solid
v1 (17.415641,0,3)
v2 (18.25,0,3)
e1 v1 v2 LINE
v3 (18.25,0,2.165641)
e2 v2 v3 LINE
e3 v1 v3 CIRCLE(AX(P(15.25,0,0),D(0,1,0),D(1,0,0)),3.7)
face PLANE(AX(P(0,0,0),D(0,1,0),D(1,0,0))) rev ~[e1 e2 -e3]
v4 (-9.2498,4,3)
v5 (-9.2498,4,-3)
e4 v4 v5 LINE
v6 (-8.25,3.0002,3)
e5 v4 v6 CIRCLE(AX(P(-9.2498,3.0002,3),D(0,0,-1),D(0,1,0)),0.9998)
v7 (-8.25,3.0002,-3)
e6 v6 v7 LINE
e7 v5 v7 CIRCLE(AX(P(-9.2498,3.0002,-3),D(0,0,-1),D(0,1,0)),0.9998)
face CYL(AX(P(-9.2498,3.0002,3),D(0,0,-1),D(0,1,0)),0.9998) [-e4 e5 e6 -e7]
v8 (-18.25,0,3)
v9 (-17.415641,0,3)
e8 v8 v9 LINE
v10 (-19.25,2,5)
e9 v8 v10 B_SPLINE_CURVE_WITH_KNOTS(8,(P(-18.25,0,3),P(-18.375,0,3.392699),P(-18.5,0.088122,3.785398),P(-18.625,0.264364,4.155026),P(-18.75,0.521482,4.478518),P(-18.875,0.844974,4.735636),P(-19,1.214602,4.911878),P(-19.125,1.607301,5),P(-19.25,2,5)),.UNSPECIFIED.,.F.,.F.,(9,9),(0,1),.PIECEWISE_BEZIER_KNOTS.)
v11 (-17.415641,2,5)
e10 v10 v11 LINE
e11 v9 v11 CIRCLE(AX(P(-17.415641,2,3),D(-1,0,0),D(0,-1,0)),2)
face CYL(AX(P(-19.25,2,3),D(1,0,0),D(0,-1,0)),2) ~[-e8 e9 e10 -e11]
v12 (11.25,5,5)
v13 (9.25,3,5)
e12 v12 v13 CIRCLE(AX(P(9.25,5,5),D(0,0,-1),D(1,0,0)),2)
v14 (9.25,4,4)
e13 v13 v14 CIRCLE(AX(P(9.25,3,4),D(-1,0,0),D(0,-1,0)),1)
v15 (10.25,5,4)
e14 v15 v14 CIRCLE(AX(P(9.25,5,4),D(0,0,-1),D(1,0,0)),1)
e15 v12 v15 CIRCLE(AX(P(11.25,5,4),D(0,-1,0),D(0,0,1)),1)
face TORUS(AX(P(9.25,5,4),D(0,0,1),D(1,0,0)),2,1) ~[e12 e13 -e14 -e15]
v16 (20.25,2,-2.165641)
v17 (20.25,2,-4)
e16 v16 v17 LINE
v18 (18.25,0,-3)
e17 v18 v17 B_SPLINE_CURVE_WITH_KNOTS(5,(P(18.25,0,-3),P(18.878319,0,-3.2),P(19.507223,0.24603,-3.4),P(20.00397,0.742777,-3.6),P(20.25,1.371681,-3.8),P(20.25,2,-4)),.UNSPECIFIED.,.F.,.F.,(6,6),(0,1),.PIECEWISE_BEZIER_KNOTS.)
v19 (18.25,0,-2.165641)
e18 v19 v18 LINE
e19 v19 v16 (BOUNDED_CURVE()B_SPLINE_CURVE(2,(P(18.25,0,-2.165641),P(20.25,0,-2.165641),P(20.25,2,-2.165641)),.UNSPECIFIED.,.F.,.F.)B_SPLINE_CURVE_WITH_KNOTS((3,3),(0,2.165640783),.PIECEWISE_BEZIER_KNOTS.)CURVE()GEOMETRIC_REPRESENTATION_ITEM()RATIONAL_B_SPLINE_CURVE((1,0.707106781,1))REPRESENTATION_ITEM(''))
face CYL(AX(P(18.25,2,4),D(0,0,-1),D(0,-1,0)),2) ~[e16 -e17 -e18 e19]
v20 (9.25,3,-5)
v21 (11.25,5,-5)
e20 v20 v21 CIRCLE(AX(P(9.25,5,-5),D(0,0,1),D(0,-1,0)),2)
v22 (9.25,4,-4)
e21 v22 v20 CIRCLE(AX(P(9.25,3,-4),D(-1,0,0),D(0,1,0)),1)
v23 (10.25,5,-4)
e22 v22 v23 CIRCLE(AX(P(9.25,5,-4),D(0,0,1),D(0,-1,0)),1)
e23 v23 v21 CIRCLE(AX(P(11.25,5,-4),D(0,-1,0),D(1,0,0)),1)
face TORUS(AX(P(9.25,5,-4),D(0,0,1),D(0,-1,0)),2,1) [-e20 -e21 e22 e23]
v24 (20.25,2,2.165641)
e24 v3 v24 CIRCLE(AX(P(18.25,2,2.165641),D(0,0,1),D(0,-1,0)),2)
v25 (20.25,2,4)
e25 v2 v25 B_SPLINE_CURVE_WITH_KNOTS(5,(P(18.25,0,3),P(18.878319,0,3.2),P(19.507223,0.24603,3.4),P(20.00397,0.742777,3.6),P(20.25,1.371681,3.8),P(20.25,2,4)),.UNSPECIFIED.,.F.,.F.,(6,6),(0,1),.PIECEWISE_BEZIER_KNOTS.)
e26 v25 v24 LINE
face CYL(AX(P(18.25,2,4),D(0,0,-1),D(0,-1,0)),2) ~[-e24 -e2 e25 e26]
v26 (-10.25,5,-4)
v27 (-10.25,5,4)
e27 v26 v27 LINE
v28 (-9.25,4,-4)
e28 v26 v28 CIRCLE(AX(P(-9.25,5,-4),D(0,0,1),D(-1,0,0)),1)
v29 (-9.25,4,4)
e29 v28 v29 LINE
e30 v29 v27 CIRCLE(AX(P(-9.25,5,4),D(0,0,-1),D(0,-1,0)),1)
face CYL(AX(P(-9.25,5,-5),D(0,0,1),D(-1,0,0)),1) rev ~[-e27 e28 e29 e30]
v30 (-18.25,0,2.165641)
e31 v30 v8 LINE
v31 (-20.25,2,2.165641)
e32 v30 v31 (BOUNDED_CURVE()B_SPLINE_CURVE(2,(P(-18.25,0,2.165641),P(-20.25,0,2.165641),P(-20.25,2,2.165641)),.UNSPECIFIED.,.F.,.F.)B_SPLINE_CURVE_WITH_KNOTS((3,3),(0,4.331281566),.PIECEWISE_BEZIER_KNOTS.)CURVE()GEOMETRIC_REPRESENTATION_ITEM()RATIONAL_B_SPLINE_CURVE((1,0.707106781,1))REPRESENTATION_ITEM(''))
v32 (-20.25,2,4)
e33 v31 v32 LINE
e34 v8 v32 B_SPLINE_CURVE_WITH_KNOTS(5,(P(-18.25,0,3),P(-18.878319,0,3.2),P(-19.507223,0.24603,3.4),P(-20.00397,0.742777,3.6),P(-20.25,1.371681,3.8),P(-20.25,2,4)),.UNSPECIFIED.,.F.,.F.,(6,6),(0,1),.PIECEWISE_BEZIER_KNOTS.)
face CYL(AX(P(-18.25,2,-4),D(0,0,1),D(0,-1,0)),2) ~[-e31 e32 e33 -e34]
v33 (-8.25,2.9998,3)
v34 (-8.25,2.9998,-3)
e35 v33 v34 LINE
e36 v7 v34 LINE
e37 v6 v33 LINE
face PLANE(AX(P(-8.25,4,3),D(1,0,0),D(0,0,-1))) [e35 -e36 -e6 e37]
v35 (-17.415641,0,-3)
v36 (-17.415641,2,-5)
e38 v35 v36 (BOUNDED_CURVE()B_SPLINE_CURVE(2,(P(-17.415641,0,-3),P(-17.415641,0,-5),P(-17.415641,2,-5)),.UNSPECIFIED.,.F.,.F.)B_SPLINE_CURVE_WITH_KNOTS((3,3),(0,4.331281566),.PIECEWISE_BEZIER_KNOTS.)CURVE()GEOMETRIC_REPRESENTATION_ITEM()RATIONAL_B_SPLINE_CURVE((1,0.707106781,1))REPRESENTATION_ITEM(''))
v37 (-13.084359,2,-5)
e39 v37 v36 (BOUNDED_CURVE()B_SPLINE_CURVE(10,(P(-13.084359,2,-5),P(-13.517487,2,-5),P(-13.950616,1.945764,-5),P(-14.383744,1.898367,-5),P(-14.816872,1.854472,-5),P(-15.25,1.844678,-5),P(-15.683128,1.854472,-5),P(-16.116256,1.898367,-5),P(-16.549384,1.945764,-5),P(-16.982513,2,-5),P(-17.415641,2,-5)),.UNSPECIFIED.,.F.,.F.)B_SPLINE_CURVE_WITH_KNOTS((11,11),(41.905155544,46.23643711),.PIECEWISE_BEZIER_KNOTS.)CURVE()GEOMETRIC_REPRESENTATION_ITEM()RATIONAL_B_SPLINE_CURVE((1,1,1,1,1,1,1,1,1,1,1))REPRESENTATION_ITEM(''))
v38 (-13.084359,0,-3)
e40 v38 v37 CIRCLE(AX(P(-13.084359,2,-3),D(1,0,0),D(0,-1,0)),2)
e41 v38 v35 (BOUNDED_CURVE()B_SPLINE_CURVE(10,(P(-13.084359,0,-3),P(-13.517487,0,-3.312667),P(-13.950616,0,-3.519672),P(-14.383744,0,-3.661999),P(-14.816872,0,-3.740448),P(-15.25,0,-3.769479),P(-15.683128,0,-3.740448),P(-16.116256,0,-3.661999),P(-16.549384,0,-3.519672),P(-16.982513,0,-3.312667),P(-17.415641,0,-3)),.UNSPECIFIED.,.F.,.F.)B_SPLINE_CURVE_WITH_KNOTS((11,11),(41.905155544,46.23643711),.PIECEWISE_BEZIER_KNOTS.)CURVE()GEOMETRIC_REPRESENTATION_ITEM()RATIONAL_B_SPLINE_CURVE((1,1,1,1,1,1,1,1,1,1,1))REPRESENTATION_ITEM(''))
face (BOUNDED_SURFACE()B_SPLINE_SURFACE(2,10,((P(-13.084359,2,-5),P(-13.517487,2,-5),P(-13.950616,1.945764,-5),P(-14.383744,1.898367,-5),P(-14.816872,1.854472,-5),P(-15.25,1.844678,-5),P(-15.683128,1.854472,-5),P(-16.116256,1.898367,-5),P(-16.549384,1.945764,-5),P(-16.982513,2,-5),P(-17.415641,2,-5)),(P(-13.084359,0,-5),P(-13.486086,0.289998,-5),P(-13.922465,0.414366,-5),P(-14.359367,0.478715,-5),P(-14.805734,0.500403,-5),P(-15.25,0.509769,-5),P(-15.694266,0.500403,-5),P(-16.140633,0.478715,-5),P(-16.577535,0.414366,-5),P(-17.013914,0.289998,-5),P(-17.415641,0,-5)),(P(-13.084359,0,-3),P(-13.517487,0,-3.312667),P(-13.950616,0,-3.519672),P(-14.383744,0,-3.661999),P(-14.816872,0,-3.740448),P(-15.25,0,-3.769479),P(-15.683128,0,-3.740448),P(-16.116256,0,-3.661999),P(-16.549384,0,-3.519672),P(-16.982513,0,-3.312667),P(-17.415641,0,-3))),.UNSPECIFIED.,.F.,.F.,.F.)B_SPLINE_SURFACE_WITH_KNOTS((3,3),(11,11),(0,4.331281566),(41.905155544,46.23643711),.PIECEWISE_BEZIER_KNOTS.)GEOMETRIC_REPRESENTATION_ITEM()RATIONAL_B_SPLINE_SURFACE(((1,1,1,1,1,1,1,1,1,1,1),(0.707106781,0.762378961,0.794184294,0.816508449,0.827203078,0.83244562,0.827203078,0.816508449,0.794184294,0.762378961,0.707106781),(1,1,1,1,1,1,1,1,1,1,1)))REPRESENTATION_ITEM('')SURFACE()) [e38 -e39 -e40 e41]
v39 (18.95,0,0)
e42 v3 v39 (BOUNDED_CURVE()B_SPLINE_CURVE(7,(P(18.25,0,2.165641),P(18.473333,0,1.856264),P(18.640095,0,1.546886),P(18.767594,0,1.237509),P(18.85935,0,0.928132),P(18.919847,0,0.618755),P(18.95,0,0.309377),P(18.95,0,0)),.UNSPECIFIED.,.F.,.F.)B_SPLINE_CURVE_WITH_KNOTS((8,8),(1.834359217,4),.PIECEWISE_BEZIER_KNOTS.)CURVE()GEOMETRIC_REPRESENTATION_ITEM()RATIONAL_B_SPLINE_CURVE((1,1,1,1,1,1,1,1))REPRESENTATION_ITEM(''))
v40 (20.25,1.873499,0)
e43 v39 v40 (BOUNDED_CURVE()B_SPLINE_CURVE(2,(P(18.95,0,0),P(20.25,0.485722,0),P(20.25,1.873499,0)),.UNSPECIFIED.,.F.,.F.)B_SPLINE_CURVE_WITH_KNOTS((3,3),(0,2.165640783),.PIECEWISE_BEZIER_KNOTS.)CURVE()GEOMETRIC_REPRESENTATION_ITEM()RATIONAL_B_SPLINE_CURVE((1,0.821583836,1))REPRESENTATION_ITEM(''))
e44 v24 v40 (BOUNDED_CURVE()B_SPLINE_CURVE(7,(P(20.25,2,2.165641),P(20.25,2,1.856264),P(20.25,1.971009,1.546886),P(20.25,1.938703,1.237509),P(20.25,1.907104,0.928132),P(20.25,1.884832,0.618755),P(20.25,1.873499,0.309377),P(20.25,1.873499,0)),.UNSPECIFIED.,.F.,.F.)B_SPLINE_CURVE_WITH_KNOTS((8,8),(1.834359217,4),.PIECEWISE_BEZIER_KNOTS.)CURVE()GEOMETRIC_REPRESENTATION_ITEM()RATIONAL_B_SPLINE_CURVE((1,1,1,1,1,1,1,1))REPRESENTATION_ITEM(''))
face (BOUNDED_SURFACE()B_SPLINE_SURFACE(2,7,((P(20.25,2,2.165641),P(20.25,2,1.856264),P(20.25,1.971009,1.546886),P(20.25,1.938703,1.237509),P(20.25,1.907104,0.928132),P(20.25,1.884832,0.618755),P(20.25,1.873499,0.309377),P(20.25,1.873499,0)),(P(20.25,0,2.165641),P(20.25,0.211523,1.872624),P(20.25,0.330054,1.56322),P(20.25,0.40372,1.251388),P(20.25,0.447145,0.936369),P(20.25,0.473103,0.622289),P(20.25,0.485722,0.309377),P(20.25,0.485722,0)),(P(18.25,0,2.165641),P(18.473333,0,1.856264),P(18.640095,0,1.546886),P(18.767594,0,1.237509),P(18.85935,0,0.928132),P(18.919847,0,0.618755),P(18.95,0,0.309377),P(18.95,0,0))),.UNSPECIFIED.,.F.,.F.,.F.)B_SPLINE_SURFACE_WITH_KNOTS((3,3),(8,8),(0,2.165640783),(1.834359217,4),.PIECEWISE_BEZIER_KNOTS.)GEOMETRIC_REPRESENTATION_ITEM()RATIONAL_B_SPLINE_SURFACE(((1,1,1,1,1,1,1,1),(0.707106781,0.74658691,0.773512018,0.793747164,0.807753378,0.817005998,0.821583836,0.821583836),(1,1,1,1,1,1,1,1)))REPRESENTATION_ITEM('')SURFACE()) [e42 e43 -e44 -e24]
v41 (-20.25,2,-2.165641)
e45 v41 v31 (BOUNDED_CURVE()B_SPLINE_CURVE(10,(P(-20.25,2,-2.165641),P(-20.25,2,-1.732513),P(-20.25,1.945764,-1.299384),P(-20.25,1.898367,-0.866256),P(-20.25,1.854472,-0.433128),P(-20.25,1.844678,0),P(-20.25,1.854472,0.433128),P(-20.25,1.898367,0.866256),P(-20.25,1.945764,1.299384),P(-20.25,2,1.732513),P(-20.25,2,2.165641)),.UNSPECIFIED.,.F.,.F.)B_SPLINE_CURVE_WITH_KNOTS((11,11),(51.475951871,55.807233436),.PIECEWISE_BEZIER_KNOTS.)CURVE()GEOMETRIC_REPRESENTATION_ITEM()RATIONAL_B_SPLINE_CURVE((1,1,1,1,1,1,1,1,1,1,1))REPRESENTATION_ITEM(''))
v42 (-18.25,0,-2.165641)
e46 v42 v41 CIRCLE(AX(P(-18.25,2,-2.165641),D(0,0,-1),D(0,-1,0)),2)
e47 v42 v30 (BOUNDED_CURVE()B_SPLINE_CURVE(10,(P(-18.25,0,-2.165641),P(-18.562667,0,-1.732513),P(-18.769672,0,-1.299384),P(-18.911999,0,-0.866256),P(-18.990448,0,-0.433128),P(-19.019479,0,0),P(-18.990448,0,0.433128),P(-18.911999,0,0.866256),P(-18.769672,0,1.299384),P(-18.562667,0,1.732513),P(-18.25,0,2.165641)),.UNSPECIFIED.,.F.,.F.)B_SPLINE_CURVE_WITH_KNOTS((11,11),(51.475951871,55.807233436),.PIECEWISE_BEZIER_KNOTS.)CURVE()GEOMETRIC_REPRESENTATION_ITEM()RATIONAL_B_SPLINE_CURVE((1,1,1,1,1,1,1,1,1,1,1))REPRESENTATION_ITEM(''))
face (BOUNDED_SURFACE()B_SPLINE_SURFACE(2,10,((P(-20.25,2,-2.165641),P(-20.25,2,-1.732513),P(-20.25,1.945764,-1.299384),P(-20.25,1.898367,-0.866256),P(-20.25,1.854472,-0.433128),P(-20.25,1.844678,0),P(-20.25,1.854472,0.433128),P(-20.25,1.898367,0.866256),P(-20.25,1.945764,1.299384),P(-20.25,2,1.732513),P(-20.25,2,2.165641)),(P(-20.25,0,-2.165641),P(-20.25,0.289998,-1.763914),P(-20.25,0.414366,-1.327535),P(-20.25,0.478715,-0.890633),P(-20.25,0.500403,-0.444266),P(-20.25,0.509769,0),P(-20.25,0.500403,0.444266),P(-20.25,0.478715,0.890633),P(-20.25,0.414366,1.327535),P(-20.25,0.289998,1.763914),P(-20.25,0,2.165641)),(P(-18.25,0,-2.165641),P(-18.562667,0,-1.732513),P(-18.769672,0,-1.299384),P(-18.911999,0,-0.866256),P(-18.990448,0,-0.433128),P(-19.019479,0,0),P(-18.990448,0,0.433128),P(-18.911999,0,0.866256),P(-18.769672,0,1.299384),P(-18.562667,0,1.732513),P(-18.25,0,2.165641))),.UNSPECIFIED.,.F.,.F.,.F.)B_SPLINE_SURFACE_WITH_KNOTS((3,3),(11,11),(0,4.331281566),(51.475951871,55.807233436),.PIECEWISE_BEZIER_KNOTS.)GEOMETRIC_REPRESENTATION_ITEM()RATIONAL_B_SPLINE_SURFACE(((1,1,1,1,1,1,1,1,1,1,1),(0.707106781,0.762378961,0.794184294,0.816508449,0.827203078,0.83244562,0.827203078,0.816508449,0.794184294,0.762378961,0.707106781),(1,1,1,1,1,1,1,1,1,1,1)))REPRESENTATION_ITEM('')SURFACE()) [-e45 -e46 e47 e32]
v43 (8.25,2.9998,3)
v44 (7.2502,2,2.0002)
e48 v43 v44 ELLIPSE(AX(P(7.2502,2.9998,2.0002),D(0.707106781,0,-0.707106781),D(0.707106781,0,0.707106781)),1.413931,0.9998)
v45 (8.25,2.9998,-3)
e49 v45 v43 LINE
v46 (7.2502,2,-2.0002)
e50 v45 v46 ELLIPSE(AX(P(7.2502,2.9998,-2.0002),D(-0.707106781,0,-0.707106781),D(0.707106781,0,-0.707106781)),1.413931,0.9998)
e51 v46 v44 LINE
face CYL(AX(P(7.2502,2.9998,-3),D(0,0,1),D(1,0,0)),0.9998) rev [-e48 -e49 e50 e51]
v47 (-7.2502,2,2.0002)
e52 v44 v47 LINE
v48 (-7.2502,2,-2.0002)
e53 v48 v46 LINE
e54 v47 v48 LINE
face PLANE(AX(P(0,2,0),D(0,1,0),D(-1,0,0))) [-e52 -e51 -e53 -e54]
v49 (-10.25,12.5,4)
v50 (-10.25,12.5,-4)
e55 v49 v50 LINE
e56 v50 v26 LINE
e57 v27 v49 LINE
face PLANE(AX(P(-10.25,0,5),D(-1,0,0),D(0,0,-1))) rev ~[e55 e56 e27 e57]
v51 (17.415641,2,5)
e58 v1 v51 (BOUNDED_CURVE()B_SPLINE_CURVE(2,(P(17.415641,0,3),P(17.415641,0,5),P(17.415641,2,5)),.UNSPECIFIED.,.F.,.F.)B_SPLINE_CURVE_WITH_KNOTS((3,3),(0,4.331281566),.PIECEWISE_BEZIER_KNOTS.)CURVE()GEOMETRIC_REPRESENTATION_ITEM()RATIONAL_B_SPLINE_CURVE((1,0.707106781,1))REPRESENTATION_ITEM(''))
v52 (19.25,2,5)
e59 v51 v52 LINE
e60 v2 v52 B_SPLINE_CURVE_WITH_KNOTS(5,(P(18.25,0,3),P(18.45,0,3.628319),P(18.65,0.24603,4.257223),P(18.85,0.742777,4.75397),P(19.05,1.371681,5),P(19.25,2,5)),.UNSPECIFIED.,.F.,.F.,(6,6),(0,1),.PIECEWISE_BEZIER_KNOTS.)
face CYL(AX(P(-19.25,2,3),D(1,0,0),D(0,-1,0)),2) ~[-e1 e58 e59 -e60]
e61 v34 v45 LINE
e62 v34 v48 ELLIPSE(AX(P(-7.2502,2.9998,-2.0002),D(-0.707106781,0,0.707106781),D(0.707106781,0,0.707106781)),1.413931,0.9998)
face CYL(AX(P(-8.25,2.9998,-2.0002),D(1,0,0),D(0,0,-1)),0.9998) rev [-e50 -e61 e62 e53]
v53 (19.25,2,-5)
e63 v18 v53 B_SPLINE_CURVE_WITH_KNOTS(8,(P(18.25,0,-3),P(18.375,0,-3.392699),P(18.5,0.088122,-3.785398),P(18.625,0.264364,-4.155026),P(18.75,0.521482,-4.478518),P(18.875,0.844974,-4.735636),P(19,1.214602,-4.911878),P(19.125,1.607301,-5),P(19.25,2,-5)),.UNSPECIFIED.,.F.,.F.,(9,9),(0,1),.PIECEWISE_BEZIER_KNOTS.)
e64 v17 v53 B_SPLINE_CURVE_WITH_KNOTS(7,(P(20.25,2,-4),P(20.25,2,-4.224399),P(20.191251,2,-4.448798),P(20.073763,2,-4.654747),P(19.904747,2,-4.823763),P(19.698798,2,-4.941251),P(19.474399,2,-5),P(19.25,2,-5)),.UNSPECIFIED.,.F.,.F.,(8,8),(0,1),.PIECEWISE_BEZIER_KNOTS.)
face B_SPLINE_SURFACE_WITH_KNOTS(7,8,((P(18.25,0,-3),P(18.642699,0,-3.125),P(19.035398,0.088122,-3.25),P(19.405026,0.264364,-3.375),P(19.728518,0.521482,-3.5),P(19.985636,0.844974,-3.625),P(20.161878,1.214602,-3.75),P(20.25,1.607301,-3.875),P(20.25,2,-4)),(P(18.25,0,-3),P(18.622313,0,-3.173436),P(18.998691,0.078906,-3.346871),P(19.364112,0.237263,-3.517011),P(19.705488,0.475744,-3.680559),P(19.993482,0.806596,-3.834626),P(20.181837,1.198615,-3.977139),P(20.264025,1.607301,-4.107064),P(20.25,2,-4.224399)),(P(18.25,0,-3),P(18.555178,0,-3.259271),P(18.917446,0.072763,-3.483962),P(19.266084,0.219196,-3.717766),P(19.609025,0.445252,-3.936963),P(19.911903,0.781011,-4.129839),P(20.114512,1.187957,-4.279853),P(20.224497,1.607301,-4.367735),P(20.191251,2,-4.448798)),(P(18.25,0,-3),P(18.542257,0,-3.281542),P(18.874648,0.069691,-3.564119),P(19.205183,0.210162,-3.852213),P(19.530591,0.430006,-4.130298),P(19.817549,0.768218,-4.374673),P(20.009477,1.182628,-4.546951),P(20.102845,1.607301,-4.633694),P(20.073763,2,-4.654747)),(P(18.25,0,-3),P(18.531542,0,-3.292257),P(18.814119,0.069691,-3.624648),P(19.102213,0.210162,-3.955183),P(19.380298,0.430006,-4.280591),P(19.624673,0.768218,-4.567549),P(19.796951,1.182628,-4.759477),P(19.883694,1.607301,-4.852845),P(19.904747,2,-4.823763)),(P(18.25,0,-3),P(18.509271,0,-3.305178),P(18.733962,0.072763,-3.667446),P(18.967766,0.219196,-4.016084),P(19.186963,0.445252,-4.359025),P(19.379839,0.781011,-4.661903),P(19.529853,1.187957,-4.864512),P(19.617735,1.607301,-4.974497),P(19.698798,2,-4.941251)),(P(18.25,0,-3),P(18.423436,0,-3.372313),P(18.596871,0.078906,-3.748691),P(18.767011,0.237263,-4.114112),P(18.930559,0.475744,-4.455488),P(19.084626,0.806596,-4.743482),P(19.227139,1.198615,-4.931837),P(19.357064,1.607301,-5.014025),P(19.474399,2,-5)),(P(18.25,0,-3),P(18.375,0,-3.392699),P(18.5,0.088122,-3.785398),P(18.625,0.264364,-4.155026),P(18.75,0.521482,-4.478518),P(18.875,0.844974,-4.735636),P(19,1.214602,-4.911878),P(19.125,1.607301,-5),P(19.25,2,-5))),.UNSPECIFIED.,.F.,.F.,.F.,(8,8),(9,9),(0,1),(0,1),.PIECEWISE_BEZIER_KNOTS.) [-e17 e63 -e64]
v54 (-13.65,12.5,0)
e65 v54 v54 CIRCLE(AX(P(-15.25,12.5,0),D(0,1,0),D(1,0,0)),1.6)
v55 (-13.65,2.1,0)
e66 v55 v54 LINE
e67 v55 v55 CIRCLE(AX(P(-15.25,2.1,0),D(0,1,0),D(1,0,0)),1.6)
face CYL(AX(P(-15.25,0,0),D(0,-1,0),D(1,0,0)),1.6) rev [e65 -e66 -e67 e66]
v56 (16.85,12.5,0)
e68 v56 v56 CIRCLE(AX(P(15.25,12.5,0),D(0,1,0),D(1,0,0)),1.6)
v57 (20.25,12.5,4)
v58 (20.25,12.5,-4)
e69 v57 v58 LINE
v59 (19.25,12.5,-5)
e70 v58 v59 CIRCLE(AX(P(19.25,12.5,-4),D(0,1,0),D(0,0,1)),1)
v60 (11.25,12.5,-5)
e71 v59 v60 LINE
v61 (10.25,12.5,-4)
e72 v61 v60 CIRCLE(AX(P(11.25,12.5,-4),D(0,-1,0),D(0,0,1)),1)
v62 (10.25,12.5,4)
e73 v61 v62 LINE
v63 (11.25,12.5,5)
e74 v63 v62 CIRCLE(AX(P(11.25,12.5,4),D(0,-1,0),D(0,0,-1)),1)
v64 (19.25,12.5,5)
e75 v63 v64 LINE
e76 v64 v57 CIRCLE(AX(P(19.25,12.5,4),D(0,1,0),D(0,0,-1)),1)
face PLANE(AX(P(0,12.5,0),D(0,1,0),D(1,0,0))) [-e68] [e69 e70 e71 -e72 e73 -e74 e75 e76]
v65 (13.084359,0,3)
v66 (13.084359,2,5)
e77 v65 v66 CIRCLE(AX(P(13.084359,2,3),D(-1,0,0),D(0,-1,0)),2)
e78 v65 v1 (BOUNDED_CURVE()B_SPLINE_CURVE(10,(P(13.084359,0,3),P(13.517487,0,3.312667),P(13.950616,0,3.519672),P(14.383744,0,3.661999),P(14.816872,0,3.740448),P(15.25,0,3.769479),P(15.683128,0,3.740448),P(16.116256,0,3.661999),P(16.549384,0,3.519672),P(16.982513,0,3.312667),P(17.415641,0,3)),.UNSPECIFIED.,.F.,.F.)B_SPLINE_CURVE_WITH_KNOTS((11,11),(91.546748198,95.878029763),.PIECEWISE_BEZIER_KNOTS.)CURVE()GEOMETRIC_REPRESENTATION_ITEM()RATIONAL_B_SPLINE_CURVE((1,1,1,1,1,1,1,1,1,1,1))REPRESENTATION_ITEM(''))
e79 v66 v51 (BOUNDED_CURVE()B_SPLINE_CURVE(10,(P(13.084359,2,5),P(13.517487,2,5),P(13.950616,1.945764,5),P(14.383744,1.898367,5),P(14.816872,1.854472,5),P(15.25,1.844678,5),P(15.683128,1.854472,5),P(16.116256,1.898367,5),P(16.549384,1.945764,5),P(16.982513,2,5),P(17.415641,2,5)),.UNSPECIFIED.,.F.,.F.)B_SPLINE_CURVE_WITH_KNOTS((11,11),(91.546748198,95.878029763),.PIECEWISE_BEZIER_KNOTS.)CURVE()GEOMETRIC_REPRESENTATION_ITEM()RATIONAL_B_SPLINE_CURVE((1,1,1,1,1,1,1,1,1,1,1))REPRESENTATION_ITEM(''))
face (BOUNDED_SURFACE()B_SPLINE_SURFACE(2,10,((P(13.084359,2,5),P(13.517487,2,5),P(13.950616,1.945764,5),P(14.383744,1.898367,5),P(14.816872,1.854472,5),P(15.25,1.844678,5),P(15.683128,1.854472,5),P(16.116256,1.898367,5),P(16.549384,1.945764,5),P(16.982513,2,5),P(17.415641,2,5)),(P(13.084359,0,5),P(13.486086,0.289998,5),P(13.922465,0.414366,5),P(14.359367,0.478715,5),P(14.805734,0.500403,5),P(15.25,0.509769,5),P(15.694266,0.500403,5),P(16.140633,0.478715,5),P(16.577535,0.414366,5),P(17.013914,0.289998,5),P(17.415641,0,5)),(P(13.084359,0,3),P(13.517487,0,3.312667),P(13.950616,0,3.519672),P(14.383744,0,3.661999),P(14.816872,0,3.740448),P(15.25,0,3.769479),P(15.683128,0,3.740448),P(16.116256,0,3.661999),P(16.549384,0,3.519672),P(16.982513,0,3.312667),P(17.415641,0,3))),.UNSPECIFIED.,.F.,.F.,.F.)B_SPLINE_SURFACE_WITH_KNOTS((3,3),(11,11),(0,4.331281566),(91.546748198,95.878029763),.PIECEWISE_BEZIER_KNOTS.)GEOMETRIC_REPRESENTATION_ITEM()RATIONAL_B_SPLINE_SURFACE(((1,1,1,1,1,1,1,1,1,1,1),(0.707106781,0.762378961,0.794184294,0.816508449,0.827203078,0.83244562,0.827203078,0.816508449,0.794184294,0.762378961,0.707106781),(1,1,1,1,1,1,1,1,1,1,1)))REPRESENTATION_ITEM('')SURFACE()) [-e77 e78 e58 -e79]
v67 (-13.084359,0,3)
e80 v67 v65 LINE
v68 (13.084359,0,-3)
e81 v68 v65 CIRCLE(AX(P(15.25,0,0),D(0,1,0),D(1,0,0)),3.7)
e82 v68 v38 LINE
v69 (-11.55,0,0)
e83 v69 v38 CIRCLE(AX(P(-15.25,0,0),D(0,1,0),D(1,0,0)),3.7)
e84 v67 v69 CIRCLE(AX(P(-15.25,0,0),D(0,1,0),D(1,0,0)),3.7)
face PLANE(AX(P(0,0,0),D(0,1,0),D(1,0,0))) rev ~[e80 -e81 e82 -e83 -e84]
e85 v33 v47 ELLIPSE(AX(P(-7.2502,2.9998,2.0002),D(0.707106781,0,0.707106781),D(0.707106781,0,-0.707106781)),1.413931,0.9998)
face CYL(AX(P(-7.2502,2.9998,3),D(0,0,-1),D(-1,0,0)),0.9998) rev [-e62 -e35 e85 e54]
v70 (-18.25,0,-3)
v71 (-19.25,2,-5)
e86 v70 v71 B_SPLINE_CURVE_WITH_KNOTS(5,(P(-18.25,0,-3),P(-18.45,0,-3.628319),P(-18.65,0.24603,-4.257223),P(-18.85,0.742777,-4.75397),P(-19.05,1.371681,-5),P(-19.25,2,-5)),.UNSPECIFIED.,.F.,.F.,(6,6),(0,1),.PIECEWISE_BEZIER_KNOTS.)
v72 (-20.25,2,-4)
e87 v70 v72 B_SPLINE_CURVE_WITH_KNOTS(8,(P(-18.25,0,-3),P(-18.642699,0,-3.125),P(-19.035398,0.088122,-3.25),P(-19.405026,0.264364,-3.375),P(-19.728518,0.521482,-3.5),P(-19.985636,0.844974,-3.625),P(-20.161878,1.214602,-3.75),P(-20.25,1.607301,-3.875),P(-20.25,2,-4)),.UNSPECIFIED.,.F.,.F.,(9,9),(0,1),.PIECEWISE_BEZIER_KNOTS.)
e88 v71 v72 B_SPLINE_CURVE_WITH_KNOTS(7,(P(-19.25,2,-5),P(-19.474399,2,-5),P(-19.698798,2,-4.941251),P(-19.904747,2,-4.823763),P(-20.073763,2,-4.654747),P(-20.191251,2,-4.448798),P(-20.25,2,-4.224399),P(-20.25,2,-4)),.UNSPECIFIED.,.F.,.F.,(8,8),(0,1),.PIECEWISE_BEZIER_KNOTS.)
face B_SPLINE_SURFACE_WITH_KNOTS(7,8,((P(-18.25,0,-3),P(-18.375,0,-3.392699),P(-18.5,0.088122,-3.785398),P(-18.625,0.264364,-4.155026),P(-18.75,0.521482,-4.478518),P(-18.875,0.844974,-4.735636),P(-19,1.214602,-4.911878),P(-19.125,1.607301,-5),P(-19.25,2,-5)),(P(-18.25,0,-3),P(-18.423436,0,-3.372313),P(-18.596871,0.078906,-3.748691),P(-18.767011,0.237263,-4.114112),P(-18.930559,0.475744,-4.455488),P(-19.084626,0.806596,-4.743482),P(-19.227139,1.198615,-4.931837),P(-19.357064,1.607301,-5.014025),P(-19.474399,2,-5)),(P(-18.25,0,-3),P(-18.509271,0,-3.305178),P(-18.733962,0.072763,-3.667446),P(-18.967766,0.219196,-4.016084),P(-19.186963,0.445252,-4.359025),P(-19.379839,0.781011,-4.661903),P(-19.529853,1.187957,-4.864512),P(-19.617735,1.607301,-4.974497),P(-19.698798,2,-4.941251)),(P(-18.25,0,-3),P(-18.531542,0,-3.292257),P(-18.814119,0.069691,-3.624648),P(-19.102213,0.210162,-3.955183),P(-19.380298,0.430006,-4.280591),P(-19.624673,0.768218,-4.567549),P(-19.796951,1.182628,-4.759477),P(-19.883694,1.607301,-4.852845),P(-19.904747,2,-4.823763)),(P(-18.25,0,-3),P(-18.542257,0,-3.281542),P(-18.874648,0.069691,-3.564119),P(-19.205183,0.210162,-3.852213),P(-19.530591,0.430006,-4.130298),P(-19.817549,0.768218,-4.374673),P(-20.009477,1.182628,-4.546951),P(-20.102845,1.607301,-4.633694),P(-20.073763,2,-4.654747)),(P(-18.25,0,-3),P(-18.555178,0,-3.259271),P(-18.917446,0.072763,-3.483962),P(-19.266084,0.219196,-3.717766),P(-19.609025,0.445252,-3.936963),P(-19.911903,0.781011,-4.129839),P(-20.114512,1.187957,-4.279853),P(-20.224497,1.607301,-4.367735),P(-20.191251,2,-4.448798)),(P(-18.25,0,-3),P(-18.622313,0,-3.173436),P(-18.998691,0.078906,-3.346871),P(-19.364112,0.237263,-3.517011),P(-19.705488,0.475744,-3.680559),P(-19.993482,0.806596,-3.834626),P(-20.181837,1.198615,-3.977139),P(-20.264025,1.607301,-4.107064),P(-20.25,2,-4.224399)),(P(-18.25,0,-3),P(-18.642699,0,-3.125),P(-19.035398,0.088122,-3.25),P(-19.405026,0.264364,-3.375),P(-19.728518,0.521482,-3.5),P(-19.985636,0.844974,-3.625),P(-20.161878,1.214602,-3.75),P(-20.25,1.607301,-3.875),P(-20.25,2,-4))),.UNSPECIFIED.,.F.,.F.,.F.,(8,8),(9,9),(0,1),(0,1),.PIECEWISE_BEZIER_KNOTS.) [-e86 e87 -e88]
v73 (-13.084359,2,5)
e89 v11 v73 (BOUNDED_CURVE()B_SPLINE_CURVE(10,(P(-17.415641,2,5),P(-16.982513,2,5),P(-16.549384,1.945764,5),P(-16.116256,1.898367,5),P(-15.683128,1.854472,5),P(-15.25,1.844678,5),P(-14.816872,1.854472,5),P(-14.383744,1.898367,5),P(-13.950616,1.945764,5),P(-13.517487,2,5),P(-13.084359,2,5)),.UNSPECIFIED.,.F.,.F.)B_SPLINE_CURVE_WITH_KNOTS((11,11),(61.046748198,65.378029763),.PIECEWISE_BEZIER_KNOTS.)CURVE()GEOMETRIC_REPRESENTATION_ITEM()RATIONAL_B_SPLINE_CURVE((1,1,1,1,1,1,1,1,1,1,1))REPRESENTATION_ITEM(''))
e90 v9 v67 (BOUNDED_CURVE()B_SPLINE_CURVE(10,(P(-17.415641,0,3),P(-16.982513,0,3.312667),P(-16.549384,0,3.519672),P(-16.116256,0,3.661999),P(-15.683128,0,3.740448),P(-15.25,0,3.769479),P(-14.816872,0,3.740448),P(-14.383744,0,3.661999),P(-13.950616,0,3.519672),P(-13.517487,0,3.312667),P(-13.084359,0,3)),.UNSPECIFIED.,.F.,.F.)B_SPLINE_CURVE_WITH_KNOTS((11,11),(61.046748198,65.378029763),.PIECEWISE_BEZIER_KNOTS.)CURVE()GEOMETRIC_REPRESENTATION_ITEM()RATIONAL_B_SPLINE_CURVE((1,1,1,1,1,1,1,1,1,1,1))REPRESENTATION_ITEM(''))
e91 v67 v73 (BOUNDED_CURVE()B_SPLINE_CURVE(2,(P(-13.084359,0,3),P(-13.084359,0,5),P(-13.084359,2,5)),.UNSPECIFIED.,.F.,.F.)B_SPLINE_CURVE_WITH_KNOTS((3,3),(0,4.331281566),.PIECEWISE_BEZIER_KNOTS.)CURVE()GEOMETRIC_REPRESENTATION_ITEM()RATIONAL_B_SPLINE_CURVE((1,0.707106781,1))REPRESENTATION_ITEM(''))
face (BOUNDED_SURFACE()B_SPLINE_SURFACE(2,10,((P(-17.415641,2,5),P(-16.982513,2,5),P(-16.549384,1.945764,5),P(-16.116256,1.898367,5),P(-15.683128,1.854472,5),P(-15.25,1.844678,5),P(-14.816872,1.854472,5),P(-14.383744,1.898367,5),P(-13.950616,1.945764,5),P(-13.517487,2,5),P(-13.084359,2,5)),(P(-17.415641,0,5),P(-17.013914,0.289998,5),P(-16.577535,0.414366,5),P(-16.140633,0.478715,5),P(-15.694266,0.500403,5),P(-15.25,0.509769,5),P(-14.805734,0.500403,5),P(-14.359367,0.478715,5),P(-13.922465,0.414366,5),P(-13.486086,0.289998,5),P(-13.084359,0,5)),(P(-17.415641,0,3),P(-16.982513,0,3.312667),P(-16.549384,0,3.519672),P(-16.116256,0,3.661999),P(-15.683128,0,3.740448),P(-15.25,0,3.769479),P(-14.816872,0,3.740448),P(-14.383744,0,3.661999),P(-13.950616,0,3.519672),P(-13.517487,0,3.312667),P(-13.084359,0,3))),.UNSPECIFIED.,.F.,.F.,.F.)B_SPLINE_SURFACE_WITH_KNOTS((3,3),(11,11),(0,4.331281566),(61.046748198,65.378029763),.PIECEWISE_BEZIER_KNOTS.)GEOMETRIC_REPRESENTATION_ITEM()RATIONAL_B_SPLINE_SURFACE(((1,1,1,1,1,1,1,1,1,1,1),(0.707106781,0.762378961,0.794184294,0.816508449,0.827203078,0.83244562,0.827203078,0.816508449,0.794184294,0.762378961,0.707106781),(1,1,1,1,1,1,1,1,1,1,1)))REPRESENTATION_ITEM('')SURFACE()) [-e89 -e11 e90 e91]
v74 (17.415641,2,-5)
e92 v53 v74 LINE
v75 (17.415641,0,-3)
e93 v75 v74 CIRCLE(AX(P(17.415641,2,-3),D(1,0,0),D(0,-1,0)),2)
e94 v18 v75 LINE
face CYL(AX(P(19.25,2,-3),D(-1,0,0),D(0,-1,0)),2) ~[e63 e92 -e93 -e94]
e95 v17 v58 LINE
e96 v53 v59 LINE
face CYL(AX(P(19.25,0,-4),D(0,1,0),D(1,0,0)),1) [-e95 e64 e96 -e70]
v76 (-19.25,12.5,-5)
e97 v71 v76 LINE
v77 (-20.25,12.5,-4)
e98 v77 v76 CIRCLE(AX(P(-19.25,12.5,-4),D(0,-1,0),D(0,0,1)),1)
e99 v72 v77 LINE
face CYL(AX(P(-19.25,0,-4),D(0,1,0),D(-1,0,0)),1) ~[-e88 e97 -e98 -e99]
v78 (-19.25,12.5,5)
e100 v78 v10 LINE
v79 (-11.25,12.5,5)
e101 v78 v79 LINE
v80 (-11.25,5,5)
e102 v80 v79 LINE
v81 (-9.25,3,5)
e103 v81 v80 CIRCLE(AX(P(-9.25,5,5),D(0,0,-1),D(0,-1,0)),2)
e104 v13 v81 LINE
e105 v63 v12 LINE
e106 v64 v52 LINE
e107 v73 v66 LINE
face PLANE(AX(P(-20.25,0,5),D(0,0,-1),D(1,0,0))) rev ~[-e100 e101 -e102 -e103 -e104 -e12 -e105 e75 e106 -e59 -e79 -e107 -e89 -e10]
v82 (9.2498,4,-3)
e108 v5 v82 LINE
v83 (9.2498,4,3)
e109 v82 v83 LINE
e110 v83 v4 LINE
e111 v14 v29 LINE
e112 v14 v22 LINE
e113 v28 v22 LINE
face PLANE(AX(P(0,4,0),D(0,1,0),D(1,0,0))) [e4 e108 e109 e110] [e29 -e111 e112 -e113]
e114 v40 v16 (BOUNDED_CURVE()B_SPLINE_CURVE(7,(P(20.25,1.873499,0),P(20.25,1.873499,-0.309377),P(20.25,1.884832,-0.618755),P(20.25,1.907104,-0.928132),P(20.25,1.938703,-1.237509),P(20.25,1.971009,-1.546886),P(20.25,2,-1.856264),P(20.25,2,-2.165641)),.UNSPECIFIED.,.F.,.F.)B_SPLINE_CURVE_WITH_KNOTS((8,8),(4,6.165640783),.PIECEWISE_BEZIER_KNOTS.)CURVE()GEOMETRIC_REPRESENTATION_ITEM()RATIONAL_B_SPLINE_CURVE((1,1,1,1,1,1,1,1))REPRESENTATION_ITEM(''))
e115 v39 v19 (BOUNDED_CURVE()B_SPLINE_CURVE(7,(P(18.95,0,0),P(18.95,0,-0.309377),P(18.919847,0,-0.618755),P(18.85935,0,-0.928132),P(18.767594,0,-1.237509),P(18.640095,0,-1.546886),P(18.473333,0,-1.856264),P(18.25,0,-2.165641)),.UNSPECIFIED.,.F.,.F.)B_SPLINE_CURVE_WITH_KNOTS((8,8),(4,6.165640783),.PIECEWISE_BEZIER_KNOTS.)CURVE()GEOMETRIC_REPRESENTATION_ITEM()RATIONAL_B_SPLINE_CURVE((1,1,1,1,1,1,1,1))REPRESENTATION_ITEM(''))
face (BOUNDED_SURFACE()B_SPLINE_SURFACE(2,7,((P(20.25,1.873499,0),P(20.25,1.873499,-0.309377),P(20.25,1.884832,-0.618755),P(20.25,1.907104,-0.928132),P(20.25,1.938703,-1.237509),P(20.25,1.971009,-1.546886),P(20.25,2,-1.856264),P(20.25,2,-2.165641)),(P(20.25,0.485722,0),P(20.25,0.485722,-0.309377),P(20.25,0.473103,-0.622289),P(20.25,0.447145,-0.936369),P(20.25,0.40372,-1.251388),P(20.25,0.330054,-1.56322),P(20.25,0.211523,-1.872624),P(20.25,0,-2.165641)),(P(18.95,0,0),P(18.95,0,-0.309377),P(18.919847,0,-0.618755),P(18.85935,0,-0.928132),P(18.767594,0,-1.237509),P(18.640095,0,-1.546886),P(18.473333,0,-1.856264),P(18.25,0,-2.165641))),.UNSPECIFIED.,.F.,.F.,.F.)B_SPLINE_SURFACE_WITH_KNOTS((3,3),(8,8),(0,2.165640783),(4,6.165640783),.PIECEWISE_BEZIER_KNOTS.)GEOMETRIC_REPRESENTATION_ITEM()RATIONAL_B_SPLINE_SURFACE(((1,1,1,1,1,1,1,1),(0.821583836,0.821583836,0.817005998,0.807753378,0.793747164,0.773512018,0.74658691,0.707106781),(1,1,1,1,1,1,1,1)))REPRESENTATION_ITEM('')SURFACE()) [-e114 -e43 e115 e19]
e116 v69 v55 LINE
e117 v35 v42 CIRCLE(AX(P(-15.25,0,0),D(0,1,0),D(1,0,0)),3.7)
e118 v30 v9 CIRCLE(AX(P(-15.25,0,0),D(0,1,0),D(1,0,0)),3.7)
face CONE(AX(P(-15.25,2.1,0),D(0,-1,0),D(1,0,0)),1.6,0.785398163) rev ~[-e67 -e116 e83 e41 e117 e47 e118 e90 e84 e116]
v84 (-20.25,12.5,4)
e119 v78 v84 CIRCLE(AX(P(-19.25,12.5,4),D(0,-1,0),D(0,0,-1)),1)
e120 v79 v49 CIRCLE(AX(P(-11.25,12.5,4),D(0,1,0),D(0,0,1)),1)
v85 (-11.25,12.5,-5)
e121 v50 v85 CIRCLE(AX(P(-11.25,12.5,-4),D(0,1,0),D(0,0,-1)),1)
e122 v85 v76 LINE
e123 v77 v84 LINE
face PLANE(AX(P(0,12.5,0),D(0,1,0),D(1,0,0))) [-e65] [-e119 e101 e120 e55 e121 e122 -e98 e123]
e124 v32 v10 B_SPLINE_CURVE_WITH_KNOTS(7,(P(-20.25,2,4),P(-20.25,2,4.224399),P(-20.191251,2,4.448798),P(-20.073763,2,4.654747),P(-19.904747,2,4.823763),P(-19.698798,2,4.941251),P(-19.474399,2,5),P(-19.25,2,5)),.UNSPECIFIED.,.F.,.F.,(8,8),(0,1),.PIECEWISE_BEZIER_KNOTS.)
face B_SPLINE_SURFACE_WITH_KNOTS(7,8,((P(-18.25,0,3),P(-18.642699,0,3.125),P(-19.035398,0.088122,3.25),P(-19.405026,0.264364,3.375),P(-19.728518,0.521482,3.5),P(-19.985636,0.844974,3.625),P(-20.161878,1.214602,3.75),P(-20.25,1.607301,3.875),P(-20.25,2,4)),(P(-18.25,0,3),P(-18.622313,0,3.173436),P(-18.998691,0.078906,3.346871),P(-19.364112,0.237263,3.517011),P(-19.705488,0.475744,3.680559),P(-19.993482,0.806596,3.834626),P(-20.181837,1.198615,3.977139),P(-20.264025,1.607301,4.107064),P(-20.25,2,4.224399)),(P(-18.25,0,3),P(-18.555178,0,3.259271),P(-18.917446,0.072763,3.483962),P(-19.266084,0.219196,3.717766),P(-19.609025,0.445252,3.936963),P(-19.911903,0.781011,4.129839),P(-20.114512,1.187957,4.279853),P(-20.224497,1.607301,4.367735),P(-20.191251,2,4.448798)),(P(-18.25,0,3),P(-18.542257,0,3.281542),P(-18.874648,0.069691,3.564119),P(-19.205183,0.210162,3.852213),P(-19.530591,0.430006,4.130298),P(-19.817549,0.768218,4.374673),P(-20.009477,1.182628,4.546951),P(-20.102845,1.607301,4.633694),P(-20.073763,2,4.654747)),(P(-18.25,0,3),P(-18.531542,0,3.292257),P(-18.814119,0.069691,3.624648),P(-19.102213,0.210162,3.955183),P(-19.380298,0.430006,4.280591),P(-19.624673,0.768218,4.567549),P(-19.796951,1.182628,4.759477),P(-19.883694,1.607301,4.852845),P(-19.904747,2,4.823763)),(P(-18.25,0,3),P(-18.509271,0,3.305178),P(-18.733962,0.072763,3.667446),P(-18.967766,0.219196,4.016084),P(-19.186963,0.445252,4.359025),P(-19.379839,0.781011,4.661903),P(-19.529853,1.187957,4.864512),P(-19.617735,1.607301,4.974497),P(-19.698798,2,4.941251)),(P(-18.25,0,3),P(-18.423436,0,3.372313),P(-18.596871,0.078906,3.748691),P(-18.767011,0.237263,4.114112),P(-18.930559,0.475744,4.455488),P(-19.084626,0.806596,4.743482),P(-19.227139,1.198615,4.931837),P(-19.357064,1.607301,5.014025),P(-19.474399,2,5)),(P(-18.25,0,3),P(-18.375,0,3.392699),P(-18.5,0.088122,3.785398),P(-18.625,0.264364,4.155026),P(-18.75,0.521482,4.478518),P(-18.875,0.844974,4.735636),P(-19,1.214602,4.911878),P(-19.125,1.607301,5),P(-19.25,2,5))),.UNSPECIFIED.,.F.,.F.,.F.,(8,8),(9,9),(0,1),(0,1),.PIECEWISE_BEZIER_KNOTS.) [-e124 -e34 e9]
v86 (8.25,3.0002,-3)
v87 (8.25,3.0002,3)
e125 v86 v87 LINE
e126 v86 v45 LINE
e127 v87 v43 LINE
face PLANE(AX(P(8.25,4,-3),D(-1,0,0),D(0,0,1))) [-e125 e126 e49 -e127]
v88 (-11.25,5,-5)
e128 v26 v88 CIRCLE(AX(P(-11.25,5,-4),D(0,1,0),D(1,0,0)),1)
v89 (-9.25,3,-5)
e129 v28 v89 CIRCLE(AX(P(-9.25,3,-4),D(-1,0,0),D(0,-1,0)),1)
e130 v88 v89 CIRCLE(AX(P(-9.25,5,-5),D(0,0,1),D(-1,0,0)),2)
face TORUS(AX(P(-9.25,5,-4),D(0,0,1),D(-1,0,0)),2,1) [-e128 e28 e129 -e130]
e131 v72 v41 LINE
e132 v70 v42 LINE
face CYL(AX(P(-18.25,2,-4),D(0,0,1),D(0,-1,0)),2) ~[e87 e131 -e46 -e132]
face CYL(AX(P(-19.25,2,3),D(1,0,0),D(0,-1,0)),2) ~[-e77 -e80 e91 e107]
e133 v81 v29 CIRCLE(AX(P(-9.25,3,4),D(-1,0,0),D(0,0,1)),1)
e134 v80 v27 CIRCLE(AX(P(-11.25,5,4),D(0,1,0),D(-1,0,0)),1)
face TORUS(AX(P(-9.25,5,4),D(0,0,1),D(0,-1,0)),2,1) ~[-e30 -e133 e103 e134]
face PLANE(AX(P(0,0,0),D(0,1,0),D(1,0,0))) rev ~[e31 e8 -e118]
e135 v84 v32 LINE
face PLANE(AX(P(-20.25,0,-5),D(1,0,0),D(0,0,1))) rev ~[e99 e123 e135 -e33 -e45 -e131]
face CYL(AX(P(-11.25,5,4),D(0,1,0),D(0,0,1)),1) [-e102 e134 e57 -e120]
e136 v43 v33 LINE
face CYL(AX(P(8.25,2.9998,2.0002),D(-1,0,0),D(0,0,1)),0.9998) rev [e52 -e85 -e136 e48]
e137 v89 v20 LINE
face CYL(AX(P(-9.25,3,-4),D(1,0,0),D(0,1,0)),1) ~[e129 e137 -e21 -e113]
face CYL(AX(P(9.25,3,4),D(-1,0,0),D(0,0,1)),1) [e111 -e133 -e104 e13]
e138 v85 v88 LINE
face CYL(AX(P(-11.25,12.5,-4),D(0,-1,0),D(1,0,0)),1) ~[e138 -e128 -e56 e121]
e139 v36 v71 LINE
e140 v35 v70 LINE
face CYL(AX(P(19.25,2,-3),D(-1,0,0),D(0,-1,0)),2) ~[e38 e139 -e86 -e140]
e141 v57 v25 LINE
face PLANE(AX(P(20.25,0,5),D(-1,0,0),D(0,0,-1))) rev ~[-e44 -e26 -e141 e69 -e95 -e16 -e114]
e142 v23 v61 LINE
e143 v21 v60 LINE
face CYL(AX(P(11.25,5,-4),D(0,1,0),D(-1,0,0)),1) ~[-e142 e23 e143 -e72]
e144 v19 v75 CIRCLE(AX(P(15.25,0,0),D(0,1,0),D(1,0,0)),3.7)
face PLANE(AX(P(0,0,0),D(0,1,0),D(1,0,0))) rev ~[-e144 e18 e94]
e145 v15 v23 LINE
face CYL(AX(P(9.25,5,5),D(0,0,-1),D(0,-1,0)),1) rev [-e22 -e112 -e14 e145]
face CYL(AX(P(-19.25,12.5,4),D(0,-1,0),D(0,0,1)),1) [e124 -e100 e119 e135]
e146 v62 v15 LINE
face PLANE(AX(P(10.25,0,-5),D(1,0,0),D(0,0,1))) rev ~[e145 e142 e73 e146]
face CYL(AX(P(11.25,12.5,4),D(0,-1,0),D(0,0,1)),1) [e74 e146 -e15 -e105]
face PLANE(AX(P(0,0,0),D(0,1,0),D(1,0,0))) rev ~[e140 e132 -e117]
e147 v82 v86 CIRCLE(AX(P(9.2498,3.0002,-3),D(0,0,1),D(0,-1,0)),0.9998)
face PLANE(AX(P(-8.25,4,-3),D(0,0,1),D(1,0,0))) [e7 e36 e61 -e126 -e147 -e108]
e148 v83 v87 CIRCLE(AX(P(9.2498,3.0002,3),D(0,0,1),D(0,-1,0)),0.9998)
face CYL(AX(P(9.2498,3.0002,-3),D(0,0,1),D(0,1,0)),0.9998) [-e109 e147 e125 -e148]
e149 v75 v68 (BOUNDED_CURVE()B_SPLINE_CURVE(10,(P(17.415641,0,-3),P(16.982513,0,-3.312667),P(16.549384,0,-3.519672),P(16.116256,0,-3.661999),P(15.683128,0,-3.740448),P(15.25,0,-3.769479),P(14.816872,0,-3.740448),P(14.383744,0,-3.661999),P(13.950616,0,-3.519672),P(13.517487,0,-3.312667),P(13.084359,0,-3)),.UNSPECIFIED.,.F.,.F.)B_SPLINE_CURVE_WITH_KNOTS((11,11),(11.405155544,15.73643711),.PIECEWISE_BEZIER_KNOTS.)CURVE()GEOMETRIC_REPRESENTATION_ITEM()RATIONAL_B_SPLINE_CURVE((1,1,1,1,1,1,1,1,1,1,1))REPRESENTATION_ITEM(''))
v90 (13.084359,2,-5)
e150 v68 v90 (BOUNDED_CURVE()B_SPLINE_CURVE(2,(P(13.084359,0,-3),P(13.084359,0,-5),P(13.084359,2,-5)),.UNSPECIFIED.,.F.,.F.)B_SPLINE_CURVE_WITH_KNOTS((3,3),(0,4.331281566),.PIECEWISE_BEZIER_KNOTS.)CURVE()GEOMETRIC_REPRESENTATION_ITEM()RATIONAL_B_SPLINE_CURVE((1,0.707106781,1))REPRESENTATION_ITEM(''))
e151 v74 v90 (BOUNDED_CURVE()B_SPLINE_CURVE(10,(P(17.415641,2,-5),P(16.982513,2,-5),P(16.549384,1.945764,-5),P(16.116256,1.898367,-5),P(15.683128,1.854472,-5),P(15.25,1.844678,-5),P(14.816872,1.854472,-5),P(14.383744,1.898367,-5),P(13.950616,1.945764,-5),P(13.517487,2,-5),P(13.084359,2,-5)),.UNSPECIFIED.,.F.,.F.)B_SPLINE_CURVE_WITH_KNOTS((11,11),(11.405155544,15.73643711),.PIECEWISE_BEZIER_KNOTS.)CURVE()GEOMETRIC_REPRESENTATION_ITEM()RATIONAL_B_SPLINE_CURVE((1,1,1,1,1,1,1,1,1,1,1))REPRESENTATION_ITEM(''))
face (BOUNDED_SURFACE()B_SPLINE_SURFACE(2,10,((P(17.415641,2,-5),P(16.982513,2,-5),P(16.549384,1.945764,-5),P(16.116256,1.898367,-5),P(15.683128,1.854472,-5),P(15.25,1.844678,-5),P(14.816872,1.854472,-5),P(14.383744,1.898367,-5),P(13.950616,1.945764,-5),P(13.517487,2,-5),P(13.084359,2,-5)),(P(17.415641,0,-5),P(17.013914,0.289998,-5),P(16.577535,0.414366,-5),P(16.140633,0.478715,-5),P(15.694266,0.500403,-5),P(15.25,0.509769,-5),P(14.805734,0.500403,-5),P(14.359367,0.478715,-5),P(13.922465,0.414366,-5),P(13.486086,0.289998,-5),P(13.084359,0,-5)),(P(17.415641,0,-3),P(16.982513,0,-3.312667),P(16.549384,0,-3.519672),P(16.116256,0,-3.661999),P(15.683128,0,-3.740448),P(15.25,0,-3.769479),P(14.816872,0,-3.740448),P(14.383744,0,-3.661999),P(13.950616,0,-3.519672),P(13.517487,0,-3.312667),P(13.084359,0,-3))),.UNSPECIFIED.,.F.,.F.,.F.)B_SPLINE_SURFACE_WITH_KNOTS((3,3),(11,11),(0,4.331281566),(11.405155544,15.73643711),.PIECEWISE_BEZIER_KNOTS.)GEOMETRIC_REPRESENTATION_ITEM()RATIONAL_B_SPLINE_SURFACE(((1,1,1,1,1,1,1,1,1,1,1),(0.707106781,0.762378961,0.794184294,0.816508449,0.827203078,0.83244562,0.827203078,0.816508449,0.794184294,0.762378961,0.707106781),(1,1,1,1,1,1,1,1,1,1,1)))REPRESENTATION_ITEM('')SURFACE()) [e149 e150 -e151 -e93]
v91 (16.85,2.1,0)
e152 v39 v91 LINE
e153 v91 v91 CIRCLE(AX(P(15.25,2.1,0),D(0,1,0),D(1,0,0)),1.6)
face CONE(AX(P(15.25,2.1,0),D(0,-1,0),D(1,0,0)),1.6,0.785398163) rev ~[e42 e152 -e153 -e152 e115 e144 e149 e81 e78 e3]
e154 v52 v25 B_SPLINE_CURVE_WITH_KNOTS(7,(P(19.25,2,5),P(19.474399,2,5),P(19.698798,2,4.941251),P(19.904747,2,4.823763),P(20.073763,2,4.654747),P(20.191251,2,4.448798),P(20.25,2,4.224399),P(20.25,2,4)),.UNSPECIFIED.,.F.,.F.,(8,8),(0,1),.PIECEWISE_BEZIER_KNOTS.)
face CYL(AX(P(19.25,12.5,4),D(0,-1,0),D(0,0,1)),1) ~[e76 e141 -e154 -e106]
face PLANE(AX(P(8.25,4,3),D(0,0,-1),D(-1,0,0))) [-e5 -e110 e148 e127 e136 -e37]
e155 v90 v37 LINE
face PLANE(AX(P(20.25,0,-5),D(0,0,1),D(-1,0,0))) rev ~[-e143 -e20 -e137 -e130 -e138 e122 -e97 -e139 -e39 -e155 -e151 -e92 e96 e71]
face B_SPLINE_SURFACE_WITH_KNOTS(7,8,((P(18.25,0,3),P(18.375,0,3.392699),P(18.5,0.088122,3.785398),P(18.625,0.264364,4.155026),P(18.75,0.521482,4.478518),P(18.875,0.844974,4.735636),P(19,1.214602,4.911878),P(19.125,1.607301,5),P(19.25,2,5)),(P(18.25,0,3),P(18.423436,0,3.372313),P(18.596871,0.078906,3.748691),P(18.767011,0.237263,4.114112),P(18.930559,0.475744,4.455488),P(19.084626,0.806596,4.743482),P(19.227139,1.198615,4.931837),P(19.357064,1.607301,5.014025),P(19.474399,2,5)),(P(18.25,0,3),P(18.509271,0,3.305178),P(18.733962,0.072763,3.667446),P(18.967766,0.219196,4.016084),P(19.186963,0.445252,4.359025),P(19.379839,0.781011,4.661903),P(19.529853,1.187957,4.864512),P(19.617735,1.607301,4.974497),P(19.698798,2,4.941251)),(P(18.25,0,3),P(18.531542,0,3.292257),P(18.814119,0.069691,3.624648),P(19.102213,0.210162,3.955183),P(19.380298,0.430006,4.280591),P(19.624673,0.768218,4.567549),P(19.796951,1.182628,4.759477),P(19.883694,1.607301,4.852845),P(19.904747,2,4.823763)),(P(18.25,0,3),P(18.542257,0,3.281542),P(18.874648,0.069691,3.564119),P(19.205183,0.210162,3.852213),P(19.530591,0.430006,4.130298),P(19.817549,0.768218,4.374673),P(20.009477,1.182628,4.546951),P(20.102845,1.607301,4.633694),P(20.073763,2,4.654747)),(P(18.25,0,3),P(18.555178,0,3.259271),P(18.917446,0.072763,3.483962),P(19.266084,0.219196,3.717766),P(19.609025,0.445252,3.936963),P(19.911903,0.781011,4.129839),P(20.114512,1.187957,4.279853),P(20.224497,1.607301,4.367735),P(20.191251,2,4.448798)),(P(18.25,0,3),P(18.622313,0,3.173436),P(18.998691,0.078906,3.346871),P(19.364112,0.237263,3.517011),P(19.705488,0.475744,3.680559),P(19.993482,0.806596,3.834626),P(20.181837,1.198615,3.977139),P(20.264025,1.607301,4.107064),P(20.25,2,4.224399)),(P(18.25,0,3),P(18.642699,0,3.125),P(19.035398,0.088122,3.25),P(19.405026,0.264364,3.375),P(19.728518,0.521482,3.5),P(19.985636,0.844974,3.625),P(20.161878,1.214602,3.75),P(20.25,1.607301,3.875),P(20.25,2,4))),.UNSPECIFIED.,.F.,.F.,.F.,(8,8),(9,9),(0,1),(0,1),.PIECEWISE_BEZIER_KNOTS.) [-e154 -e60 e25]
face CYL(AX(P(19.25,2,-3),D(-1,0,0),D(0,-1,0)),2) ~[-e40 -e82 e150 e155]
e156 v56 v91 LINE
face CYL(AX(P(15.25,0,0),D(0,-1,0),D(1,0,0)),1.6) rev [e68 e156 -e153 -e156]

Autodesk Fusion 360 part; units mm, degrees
sketch "Esquisse1" plane through (0, 0, 0) normal (0, 1, 0) x (1, 0, 0)
  line L0 (20.25, 5) -> (-20.25, 5)
  line L1 (-20.25, 5) -> (-20.25, -5)
  line L2 (-20.25, -5) -> (20.25, -5)
  line L3 (20.25, -5) -> (20.25, 5)
  line L4 (20.25, 5) -> (-20.25, -5) construction
  line L5 (-20.25, 5) -> (20.25, -5) construction
  dimension "d1" = 40.5
  dimension "d2" = 10
extrude "Extrusion1" add sketch "Esquisse1" along normal blind 4
sketch "Esquisse5" plane through (0, 0, 0) normal (0, 1, 0) x (1, 0, 0)
  line L0 (-10.25, 5) -> (-20.25, 5)
  line L1 (-20.25, 5) -> (-20.25, -5)
  line L2 (-20.25, -5) -> (-10.25, -5)
  line L3 (-10.25, -5) -> (-10.25, 5)
  line L4 (-10.25, 5) -> (-20.25, -5) construction
  line L5 (-20.25, 5) -> (-10.25, -5) construction
  circle A0 centre (-15.25, 0) radius 1.6
  line L6 (20.25, 5) -> (-20.25, 5)
  point P0 (-15.25, 0)
  dimension "d26" = 10
  dimension "d27" = 10
  dimension "d28" = 15.25
  dimension "d29" = 3.2
  dimension "d46" = 5
extrude "Extrusion7" add sketch "Esquisse5" along normal blind 12.5
extrude "Extrusion8" cut sketch "Esquisse5" along normal blind 4 contours A0
sketch "Esquisse6" plane through (0, 0, 0) normal (0, 1, 0) x (1, 0, 0)
  line L0 (20.25, -5) -> (20.25, 5)
  line L1 (10.25, 5) -> (20.25, -5) construction
  line L2 (10.25, 5) -> (10.25, -5)
  line L3 (20.25, 5) -> (10.25, 5)
  line L4 (10.25, -5) -> (20.25, -5)
  circle A0 centre (15.25, 0) radius 1.6
  line L5 (20.25, 5) -> (10.25, -5) construction
  line L6 (20.25, 5) -> (-20.25, 5)
  point P0 (15.25, 0)
  point P1 (28, 0)
  point P2 (28, 0)
  dimension "d34" = 10
  dimension "d35" = 10
  dimension "d37" = 3.2
  dimension "d38" = 15.25
  dimension "d47" = 5
extrude "Extrusion9" add sketch "Esquisse6" along normal blind 12.5
extrude "Extrusion10" cut sketch "Esquisse6" along normal blind 4 contours A0
chamfer "Chanfrein3" distance 2.1 angle 45 2 edges at (-16.7417, 0, 0.5786) (13.7583, 0, 0.5786)
sketch "Esquisse8" plane through (0, 4, 0) normal (0, 1, 0) x (-1, 0, 0)
  line L0 (-10.25, 5) -> (-10.25, -5)
  line L1 (-10.25, -5) -> (10.25, -5)
  line L2 (10.25, -5) -> (10.25, 5)
  line L3 (10.25, 5) -> (-10.25, 5)
  line L4 (8.25, -3) -> (-8.25, -3)
  line L5 (-8.25, -3) -> (-8.25, 3)
  line L6 (-8.25, 3) -> (8.25, 3)
  line L7 (8.25, 3) -> (8.25, -3)
  line L8 (8.25, -3) -> (-8.25, 3) construction
  line L9 (-8.25, -3) -> (8.25, 3) construction
  dimension "d52" = 16.5
  dimension "d53" = 6
extrude "Extrusion12" cut sketch "Esquisse8" against normal blind 2 contours L4 L5 L6 L7
fillet "Congé1" radius 1 2 edges at (-10.25, 4, 0) (10.25, 4, 0)
fillet "Congé2" radius 1 14 edges at (-10.25, 8.75, 5) (-9.9571, 4.2929, 5) (0, 4, 5) (9.9571, 4.2929, 5) (10.25, 8.75, 5) (10.25, 8.75, -5) (9.9571, 4.2929, -5) (0, 4, -5) (-9.9571, 4.2929, -5) (-10.25, 8.75, -5) (20.25, 6.25, 5) (-20.25, 6.25, -5) (20.25, 6.25, -5) (-20.25, 6.25, 5)
fillet "Congé3" radius 2 8 edges at (20.25, 0, 0) (19.9571, 0, -4.7071) (0, 0, -5) (-19.9571, 0, -4.7071) (-20.25, 0, 0) (-19.9571, 0, 4.7071) (0, 0, 5) (19.9571, 0, 4.7071)
fillet "Congé4" radius 1 6 edges at (0, 2, -3) (8.25, 2, 0) (-8.25, 2, 0) (0, 2, 3) (-8.25, 4, 0) (8.25, 4, 0)
equation "d1 = portée_pont + longueur_pile * 2"
equation "d2 = largeur_pont"
equation "d3 = epaisseur_pont"
equation "portée_pont = 20.5 mm"
equation "hauteur_pont = 8.5 mm"
equation "longueur_pile = vis_dia_tete + 3 mm"
equation "vis_dia_percage = 3.2 mm"
equation "epaisseur_pont = 4 mm"
equation "largeur_pont = vis_dia_tete + 3 mm"
equation "d26 = longueur_pile"
equation "d27 = largeur_pont"
equation "d28 = portée_pont / 2 + longueur_pile / 2"
equation "d29 = vis_dia_percage"
equation "d30 = epaisseur_pont + hauteur_pont"
equation "d32 = epaisseur_pont"
equation "d34 = longueur_pile"
equation "d35 = largeur_pont"
equation "d37 = vis_dia_percage"
equation "d38 = portée_pont / 2 + longueur_pile / 2"
equation "d39 = hauteur_pont + epaisseur_pont"
equation "d41 = epaisseur_pont"
equation "vis_dia_tete = 7 mm"
equation "d46 = largeur_pont / 2"
equation "d47 = largeur_pont / 2"
equation "d52 = portée_pont - 4 mm"
equation "d53 = largeur_pont - 4 mm"
equation "d54 = -epaisseur_pont + 2 mm"
equation "d58 = ( vis_dia_tete - vis_dia_percage ) / 2 + 0.2 mm"
